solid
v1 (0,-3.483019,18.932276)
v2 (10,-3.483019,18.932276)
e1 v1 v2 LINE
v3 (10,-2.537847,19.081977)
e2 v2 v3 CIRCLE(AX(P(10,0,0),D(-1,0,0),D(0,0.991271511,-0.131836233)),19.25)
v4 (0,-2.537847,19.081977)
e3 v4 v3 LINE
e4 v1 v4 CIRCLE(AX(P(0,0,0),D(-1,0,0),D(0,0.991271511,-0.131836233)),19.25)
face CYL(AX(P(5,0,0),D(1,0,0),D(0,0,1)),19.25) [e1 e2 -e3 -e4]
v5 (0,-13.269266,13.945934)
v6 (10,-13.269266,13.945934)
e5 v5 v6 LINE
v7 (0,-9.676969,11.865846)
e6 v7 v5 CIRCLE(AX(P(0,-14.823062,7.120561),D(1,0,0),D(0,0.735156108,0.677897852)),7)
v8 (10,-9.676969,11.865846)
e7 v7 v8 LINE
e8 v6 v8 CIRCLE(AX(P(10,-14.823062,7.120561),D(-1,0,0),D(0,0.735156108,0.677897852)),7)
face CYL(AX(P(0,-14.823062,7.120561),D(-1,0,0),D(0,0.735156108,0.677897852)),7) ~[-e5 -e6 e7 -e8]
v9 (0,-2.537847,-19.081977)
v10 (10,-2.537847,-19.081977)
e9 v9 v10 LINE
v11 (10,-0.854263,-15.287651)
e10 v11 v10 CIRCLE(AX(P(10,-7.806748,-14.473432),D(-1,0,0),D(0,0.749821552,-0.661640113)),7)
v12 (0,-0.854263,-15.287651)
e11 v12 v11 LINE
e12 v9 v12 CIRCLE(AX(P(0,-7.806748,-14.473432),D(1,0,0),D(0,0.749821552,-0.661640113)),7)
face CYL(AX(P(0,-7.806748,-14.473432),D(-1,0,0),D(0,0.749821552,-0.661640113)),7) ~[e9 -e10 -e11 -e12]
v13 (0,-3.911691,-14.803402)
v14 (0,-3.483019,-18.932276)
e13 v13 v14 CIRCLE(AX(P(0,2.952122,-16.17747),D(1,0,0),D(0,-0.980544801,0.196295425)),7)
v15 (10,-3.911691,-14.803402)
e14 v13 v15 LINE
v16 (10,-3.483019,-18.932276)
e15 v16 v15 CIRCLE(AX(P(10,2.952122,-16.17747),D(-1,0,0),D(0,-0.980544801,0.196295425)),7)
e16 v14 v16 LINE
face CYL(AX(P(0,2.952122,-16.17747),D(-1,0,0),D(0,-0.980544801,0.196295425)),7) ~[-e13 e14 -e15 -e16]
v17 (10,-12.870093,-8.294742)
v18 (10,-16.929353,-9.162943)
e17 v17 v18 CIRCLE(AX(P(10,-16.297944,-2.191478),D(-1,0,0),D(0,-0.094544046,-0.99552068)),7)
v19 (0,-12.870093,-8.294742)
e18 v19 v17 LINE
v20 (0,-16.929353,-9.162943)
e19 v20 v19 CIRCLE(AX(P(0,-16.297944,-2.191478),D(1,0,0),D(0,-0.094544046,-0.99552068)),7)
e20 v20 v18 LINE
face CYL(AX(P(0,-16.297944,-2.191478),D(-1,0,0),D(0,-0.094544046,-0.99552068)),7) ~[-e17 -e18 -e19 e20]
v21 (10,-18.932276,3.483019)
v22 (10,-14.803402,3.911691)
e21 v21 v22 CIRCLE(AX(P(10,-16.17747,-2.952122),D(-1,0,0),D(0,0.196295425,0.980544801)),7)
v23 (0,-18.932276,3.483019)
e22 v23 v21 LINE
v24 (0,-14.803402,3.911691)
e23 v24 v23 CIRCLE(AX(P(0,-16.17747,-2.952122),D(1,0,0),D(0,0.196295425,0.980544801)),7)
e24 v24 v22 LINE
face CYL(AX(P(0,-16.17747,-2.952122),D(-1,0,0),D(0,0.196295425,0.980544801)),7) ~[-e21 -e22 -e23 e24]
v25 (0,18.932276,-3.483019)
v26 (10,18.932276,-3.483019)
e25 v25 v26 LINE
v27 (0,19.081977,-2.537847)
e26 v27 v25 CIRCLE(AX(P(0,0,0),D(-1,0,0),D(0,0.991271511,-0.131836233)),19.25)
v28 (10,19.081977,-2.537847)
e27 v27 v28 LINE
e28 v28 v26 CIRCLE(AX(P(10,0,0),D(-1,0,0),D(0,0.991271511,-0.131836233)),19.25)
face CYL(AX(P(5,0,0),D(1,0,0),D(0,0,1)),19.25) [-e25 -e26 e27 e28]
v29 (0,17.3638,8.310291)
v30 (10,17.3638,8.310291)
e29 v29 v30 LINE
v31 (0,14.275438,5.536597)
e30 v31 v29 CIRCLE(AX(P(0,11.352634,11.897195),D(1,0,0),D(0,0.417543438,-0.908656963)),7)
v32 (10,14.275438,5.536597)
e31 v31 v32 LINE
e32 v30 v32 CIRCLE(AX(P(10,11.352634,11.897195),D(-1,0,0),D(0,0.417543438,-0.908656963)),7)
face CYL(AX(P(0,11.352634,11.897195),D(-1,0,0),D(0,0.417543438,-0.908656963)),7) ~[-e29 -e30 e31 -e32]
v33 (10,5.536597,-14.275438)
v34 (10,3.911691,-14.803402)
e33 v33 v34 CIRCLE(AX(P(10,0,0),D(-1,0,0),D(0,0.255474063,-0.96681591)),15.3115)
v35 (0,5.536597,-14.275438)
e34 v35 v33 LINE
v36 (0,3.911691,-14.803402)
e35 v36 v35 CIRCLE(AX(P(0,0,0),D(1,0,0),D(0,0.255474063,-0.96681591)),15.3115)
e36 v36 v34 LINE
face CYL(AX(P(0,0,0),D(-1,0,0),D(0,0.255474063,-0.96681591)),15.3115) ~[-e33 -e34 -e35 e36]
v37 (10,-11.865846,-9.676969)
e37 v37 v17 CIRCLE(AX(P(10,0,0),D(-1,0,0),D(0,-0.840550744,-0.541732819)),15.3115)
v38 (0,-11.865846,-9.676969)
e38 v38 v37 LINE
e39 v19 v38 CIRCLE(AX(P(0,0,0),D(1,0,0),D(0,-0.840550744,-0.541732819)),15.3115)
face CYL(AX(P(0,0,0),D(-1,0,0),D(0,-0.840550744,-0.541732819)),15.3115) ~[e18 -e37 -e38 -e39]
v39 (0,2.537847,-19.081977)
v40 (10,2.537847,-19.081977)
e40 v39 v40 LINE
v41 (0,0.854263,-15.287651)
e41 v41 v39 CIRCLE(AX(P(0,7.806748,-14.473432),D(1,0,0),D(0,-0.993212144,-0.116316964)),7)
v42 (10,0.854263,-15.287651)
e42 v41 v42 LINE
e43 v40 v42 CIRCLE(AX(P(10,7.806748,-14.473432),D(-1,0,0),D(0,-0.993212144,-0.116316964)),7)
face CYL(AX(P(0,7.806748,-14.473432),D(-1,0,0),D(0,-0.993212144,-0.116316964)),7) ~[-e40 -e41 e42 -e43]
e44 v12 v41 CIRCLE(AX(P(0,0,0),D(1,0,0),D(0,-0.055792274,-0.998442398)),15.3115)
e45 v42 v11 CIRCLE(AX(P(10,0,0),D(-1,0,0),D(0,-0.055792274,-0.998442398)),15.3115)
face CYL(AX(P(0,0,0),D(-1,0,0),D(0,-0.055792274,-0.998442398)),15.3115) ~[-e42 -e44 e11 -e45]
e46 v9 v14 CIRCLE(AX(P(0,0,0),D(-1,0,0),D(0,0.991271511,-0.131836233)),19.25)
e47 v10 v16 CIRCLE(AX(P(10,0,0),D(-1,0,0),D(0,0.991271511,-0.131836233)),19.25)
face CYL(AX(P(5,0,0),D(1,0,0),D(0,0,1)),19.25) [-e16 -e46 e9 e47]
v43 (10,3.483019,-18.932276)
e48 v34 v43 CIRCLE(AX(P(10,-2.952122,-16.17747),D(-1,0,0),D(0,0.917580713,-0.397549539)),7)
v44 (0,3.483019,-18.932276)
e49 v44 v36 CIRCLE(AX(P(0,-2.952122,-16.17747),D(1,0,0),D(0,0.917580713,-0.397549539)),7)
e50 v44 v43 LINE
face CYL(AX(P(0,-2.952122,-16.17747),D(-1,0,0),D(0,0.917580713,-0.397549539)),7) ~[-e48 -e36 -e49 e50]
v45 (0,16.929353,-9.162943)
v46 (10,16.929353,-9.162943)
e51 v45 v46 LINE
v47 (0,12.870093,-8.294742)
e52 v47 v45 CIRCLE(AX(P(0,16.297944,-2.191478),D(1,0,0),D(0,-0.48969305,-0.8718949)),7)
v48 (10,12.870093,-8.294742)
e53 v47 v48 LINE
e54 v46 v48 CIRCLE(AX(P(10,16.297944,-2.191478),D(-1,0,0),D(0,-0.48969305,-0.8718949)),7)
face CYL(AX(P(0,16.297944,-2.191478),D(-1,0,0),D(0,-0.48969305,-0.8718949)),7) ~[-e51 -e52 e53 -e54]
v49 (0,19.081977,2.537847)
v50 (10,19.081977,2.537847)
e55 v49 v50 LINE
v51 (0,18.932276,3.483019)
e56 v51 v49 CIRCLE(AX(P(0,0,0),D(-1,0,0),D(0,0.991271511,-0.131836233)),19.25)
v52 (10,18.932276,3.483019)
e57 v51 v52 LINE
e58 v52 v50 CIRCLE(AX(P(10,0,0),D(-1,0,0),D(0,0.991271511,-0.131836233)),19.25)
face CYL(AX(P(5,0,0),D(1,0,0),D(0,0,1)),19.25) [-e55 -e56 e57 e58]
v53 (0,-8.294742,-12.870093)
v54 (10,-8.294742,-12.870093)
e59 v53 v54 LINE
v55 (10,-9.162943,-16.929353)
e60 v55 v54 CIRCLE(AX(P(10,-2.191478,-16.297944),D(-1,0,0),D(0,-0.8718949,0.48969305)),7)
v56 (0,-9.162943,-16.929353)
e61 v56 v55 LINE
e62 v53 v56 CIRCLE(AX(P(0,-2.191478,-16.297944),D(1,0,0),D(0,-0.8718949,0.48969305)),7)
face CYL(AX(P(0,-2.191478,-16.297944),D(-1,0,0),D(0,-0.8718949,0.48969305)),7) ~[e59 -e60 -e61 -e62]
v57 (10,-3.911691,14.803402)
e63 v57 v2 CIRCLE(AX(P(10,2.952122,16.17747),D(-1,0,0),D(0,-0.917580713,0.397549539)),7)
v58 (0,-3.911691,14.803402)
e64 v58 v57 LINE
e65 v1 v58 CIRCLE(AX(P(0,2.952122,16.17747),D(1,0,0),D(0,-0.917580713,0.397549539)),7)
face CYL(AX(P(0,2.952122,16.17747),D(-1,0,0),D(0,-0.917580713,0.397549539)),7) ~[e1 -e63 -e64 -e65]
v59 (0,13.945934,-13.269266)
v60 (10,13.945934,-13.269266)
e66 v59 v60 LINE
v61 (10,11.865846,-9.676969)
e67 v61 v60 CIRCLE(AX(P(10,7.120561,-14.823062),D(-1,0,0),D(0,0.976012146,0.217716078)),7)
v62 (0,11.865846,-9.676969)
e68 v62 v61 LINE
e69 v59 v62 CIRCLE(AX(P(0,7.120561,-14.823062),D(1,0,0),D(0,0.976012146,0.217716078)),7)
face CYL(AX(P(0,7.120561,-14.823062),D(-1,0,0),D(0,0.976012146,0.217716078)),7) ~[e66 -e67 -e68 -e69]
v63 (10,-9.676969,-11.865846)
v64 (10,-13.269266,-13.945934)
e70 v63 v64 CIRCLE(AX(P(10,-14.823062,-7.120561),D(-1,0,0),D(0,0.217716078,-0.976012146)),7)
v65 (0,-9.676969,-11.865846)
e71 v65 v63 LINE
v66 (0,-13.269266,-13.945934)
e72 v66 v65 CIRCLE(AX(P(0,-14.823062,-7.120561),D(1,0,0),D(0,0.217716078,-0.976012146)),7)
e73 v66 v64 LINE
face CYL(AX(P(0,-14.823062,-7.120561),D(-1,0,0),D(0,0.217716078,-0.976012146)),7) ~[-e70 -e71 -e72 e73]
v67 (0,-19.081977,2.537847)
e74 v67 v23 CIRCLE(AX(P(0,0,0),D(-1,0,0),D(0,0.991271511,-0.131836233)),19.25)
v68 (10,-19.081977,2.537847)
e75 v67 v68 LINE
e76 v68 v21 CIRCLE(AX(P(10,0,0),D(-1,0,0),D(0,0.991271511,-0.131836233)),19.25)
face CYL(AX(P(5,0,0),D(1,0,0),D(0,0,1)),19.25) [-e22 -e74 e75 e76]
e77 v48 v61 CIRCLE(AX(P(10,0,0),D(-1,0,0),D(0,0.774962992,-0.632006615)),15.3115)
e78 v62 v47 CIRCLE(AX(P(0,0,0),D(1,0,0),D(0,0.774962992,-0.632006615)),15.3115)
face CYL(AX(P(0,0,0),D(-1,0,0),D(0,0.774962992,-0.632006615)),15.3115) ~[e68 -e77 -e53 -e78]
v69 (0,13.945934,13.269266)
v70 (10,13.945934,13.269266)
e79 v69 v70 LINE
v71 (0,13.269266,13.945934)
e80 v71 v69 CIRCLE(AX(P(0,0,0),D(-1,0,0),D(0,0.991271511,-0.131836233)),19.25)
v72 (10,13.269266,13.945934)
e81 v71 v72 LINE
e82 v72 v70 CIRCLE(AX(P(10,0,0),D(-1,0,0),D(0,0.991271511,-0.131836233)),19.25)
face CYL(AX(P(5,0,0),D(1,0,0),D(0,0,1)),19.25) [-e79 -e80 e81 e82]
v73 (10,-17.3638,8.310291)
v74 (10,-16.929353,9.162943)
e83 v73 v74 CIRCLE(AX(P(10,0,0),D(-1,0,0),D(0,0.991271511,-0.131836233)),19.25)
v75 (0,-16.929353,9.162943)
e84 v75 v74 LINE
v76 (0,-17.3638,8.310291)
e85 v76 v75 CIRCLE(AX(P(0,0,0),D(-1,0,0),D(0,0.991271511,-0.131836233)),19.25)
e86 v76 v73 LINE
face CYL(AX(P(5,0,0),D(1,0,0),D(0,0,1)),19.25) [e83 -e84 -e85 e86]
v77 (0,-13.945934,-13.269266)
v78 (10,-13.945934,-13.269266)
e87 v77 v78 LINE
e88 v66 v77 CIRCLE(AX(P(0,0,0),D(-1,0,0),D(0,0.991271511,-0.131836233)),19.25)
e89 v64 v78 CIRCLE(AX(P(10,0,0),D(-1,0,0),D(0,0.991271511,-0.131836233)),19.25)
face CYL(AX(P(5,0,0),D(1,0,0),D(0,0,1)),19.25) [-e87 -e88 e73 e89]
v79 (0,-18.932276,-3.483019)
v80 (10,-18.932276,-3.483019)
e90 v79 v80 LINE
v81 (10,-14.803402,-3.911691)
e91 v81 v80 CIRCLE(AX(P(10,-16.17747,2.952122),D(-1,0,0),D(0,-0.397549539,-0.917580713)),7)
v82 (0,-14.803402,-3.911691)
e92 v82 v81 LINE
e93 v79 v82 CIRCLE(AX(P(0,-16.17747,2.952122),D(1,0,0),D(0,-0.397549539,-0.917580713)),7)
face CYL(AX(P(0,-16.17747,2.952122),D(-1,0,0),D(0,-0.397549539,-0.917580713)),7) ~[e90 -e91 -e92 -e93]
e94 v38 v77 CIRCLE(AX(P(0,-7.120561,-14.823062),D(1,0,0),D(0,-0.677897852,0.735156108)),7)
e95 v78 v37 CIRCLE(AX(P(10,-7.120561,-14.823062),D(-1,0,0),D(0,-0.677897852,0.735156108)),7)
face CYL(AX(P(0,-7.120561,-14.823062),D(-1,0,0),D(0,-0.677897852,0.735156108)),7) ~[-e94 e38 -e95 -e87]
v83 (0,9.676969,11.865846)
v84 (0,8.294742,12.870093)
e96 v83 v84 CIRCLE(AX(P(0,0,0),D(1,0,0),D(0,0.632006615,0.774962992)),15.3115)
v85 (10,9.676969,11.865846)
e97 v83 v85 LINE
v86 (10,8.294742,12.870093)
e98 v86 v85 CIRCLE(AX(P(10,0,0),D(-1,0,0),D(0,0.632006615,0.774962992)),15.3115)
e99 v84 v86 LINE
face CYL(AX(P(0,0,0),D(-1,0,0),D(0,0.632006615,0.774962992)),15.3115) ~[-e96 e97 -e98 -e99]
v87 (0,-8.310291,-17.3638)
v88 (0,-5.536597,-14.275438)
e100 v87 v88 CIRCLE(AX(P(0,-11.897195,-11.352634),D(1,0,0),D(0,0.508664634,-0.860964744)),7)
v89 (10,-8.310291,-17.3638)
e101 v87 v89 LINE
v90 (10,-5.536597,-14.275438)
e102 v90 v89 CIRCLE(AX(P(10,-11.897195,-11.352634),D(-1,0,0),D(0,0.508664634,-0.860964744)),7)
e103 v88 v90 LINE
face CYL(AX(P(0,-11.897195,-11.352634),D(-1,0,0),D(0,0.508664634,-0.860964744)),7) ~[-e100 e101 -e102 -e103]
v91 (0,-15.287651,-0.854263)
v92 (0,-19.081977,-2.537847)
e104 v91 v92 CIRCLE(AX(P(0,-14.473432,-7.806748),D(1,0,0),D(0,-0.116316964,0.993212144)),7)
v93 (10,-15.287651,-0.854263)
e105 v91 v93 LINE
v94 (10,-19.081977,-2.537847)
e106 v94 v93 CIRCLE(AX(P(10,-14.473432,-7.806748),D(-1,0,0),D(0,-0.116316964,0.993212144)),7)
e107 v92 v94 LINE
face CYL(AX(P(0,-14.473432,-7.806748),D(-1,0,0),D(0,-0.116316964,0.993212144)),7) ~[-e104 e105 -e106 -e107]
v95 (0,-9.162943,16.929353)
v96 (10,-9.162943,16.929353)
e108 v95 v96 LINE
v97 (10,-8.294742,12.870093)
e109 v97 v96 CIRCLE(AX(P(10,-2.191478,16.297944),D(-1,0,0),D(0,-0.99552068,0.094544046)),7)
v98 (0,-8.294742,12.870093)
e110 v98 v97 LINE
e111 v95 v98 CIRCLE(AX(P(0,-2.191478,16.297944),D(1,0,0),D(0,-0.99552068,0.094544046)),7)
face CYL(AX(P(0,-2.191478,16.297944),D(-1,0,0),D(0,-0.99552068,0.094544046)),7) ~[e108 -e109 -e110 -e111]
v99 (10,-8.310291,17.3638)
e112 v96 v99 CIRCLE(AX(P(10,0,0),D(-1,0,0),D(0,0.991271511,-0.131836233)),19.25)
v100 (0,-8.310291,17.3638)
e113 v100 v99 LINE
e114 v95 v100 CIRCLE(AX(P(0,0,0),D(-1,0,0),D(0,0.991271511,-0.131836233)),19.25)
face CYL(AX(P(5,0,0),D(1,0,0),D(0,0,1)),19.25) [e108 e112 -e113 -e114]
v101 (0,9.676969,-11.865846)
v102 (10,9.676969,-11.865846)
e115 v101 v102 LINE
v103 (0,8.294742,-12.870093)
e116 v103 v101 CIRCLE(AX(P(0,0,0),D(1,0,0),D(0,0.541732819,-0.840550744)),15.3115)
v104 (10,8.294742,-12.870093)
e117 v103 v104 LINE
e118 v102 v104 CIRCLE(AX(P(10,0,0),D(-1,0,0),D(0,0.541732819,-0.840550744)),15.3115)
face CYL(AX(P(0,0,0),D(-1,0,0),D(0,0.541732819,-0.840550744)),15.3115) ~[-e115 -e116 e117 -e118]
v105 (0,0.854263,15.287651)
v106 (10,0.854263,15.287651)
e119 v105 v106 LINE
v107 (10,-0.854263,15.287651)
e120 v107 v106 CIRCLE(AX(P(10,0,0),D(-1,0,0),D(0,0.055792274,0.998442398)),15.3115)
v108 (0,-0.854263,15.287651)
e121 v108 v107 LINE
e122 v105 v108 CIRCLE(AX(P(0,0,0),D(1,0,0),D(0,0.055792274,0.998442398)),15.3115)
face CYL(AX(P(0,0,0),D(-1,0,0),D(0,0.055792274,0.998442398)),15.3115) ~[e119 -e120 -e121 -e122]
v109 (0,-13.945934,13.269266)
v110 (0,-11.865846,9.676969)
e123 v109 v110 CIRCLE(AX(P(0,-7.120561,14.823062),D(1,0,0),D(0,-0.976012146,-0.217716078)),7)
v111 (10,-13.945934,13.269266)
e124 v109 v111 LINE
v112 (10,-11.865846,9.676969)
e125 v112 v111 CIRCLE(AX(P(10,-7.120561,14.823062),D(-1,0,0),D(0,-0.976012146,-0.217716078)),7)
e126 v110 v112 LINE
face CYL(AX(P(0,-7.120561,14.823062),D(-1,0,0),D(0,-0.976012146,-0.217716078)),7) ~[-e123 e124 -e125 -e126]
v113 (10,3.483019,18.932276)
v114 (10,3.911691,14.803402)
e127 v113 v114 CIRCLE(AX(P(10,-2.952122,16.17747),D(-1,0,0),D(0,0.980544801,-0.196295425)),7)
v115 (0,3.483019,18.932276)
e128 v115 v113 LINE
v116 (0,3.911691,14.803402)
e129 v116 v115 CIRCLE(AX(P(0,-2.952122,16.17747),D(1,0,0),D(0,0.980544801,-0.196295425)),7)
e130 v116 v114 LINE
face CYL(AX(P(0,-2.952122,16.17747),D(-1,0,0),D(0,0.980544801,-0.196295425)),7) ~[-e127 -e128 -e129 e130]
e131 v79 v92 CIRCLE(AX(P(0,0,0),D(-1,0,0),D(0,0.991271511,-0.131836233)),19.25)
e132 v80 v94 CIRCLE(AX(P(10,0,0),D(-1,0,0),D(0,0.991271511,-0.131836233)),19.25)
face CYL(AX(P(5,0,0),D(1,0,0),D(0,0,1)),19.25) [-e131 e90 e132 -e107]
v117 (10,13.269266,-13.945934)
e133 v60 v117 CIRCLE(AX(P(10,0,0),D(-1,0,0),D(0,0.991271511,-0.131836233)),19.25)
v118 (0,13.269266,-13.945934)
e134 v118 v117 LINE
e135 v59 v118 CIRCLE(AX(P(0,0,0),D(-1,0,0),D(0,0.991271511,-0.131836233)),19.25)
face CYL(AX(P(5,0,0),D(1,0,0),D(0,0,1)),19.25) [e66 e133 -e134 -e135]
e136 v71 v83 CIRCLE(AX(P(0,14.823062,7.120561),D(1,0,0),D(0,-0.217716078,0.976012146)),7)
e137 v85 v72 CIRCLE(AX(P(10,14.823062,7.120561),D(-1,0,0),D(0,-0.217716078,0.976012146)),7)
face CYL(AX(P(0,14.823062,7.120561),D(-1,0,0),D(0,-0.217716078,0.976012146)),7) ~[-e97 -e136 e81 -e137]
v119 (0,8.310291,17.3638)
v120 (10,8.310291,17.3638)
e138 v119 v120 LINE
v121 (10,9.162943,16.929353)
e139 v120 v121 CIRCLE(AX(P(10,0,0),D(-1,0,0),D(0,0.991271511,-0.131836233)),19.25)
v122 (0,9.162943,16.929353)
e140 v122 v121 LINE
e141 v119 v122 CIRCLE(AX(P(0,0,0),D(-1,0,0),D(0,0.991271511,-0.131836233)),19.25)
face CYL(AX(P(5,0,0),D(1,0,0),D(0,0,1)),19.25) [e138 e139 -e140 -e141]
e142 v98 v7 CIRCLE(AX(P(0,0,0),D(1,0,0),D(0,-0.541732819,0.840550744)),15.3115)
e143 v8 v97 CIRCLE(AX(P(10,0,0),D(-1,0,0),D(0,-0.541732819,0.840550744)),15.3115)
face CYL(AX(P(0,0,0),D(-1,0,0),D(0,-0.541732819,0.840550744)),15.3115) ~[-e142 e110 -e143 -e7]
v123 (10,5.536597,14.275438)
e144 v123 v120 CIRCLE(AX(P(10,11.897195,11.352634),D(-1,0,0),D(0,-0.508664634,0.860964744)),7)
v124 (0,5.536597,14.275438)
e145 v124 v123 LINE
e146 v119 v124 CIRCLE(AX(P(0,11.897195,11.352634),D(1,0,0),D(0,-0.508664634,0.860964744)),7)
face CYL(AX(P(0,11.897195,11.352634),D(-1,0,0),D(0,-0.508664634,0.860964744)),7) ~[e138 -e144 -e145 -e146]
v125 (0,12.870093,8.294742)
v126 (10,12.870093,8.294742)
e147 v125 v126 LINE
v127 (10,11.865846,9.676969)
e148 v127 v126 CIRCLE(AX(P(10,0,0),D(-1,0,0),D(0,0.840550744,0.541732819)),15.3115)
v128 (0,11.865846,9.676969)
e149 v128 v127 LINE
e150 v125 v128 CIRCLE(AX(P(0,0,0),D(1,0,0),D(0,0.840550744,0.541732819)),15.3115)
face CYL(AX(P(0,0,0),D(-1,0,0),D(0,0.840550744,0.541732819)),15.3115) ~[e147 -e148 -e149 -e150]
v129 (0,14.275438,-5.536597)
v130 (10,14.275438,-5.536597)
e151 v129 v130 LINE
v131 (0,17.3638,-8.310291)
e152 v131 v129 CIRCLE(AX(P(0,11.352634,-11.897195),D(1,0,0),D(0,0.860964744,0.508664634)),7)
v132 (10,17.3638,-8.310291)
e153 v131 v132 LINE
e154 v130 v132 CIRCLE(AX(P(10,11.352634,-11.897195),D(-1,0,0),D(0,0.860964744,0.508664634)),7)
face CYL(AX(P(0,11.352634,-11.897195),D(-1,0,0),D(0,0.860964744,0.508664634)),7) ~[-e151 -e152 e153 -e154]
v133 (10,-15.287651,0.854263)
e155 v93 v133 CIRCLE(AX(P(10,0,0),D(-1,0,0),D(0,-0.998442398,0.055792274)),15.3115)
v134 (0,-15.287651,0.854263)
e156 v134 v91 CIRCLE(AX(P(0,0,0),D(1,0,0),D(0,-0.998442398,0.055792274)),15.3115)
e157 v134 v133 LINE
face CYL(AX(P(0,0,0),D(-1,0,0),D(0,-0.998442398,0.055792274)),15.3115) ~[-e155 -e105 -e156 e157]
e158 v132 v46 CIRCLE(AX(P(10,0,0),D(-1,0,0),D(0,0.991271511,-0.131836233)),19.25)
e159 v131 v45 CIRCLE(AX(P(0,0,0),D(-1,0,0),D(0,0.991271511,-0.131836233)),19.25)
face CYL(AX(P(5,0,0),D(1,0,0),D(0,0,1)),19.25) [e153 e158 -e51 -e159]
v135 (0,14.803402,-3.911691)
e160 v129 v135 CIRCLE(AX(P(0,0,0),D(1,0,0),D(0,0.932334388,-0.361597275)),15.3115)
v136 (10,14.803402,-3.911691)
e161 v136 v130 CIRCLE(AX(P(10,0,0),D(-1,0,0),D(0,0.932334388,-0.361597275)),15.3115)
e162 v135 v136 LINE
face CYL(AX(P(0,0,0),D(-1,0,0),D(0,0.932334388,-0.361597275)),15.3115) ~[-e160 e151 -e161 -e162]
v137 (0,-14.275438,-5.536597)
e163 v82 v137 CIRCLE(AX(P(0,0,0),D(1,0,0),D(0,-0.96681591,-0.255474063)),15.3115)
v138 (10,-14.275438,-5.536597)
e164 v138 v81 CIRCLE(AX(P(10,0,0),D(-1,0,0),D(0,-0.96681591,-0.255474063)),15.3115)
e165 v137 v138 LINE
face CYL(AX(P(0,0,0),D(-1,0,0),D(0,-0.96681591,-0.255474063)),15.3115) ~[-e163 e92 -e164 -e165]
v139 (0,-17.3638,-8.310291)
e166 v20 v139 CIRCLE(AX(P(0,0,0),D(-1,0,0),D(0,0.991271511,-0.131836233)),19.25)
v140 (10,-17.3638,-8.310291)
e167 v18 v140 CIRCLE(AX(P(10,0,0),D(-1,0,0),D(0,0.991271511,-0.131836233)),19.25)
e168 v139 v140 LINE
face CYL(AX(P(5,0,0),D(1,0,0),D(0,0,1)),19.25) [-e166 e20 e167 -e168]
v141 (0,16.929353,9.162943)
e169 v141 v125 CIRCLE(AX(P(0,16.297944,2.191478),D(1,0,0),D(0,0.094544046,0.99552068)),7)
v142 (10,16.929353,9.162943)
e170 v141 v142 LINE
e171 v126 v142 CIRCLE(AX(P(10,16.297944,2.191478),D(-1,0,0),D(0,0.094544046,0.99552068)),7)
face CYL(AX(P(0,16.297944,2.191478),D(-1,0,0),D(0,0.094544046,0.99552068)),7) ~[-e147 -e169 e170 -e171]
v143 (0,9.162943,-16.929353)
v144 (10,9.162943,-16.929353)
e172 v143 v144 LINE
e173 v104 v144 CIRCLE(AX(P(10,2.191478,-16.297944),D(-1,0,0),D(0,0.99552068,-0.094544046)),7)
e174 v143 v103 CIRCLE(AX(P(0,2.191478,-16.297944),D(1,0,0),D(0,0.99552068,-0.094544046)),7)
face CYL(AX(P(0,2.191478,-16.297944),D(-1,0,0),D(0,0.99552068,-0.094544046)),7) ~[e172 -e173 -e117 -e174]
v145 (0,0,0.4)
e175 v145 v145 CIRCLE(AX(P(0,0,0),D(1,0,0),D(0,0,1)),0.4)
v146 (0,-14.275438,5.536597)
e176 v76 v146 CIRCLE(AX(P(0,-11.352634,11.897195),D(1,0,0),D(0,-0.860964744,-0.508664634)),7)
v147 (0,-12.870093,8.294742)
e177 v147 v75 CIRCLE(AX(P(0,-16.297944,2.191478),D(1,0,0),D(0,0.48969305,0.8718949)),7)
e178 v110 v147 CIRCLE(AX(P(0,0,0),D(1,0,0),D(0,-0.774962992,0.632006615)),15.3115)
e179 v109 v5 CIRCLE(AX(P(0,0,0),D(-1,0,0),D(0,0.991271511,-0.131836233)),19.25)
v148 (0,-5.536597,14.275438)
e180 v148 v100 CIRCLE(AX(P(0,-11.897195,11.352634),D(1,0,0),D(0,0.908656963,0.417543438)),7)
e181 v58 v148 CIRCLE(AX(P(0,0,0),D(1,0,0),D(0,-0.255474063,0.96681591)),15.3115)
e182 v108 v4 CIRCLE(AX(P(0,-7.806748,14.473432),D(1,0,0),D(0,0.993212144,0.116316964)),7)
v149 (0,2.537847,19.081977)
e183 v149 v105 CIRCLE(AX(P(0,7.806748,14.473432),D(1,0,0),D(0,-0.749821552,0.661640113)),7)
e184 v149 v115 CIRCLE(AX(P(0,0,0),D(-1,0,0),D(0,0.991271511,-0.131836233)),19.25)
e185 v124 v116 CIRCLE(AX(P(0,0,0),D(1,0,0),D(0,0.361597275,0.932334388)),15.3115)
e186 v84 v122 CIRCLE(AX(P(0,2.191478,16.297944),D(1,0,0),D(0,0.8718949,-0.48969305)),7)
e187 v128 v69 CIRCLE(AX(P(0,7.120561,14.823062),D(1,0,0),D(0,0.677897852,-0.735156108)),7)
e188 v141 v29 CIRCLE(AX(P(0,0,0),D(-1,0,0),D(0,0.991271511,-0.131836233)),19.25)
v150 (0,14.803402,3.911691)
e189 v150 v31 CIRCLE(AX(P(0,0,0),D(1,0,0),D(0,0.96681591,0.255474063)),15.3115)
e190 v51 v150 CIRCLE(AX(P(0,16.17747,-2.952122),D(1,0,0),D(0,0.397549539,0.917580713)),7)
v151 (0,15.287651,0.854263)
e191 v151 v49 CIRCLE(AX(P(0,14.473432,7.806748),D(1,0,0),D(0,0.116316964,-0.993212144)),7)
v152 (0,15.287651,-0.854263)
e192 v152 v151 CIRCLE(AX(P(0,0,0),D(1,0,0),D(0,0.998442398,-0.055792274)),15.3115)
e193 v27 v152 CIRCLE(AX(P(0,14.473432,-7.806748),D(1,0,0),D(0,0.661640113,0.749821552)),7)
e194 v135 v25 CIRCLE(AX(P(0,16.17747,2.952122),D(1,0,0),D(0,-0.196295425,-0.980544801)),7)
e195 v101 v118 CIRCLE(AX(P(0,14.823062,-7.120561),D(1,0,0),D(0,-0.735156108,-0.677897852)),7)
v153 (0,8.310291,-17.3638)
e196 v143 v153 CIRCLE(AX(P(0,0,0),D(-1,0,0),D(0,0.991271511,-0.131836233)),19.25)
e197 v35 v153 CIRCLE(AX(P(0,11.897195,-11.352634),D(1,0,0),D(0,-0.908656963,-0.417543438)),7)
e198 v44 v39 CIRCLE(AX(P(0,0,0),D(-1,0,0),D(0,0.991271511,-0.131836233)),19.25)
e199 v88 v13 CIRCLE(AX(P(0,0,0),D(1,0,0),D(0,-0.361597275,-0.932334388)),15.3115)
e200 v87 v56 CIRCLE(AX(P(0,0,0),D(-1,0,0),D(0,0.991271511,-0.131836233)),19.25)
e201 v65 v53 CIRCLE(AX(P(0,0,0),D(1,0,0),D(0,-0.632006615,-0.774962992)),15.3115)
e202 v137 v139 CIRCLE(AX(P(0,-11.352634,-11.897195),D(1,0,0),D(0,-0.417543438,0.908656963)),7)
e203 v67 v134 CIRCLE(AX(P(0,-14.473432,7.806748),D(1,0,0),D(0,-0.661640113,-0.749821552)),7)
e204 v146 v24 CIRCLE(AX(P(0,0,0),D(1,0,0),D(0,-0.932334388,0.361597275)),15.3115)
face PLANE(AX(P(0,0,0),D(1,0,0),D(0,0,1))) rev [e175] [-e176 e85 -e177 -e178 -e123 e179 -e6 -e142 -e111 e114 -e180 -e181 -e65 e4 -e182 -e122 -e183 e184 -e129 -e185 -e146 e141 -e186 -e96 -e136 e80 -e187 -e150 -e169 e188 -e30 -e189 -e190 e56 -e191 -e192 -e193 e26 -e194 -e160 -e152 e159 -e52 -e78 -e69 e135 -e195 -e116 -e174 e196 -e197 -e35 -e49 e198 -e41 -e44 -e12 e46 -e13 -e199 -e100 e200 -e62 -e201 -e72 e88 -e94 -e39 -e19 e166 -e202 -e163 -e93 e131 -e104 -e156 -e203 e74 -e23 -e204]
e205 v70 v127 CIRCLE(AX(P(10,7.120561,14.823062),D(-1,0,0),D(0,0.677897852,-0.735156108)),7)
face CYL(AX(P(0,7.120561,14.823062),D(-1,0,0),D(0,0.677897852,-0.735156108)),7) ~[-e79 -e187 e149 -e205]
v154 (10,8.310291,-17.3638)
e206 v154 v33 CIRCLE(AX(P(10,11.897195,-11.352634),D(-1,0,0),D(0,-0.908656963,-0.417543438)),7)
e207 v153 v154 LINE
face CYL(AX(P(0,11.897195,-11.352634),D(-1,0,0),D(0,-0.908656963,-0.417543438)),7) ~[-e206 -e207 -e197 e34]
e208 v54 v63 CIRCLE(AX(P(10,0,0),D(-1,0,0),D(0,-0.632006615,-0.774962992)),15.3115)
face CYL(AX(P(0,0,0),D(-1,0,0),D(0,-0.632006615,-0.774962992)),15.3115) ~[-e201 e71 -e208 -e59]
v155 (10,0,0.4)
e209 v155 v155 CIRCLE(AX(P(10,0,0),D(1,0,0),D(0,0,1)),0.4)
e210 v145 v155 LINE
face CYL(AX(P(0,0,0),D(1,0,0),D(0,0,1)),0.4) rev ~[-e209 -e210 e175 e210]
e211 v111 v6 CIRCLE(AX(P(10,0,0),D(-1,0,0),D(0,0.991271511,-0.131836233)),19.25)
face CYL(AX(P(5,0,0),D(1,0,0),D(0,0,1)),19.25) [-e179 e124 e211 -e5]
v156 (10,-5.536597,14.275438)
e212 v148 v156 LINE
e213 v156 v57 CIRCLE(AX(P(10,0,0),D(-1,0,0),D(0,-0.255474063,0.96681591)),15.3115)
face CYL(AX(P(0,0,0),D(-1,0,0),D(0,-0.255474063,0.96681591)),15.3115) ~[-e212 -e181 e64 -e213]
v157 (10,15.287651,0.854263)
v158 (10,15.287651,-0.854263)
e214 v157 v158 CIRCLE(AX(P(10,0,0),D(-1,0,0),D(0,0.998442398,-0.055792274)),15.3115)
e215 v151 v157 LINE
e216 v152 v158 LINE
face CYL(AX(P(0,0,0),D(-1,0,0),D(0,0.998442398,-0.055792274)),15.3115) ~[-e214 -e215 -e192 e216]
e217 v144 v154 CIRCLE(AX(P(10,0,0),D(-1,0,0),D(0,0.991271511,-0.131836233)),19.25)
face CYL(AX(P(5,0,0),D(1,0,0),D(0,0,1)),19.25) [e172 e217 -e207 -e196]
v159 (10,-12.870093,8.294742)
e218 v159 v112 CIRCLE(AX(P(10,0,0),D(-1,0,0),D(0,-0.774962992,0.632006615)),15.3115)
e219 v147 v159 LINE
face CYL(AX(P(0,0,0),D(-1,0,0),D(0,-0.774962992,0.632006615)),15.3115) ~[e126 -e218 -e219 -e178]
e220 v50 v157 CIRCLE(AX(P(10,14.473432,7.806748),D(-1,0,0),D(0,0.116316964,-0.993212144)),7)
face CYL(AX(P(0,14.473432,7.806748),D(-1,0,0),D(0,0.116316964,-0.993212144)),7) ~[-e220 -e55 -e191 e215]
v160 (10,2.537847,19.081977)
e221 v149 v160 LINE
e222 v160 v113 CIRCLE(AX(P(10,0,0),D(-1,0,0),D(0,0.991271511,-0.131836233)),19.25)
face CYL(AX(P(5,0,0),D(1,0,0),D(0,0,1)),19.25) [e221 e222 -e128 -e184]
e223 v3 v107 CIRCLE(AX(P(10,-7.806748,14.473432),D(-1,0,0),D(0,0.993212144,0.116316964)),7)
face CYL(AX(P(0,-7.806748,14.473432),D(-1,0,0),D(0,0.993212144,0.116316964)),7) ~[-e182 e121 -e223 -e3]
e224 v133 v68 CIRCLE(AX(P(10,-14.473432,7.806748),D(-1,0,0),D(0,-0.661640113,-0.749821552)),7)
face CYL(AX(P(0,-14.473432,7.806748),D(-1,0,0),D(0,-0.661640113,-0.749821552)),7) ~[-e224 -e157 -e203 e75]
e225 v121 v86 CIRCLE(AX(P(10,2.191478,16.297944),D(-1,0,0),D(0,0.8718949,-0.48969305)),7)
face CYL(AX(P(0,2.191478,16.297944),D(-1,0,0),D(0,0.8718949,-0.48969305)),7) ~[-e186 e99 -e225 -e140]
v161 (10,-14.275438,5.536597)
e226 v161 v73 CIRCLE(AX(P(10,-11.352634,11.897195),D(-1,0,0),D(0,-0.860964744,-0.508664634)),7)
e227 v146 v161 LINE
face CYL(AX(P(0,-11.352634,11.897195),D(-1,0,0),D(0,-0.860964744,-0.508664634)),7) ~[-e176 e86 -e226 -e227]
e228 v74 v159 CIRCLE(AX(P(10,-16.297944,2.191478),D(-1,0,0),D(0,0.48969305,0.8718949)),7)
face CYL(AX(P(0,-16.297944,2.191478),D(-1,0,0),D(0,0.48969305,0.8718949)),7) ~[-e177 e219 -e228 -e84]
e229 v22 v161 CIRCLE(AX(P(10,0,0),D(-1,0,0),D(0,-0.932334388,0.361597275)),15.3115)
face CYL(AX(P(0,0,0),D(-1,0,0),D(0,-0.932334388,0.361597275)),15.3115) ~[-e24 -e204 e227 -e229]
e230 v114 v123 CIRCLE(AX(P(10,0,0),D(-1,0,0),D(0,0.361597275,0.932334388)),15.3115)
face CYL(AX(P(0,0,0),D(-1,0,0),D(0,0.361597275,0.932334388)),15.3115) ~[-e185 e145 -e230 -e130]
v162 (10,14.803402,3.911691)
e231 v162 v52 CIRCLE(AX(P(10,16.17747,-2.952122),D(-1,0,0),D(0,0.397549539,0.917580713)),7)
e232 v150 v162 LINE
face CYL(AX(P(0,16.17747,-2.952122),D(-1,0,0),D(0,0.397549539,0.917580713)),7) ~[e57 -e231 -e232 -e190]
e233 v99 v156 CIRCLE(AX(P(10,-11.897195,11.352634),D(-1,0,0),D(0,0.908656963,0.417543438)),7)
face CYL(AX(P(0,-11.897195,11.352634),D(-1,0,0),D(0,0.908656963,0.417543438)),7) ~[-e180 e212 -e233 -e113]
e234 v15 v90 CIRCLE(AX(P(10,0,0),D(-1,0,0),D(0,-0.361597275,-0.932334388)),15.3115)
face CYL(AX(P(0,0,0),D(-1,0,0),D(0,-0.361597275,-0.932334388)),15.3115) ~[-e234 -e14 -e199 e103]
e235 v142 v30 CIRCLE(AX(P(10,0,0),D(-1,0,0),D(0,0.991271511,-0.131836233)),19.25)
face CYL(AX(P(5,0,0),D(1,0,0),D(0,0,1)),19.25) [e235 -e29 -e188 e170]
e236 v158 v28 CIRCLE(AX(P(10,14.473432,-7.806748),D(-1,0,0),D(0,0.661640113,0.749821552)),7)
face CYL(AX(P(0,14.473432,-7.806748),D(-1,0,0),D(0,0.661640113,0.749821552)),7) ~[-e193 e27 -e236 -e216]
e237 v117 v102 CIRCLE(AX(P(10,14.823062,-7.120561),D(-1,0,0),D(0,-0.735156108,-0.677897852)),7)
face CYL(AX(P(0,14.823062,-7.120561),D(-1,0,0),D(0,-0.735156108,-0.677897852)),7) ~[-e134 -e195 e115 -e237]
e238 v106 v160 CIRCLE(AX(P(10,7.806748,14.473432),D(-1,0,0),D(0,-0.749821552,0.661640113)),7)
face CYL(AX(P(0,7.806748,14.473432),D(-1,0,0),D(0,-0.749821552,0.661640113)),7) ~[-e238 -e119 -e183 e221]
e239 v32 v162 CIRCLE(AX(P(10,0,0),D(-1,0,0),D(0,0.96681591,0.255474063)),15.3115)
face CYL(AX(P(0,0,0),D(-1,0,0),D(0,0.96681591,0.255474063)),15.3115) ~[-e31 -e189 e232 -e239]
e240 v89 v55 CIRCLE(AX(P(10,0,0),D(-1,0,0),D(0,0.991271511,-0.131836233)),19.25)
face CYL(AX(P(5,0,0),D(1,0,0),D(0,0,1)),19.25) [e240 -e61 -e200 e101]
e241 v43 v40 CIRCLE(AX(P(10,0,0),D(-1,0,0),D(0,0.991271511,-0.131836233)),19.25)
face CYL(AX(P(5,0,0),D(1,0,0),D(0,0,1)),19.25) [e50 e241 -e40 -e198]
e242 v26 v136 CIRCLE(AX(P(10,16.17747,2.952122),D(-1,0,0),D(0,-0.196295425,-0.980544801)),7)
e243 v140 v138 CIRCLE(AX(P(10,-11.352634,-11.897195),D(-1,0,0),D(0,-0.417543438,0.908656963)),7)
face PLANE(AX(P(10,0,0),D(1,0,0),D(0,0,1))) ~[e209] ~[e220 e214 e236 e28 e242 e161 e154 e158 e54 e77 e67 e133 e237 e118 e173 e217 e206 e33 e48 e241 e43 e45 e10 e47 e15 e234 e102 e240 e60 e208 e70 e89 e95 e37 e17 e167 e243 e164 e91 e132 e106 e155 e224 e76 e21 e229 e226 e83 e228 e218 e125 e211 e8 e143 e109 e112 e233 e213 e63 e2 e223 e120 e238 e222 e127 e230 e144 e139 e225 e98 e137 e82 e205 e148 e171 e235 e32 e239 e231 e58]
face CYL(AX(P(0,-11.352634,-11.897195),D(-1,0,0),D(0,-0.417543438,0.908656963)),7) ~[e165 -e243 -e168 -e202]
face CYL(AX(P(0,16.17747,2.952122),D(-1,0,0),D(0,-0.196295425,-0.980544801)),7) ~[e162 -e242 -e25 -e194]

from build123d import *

# Parameters (mm, degrees)
BASPROSKE_W     = 10
BASPROSKE_H     = 19.25
TOOTHCUT_DEPTH  = 30.002155092
TEETHCUTS_COUNT = 20
TEETHCUTS_ANGLE = 342
BORSKE_R        = 0.4
BORE_DEPTH      = 50.0000508


with BuildPart() as part:
    # BasProSke → Base-Revolve (revolve)
    with BuildSketch(Plane(origin=(0, 0, 0), x_dir=(1, 0, 0), z_dir=(0, 1, 0)), mode=Mode.PRIVATE) as base_revolve_sk:
        with Locations((5, 9.625)):
            Rectangle(BASPROSKE_W, BASPROSKE_H)
    revolve(base_revolve_sk.sketch.rotate(Axis((-10, 0, 0), (1, 0, 0)), 180), axis=Axis((-10, 0, 0), (1, 0, 0)))

    # TooCutSke → ToothCut (cut, through all)
    with BuildSketch(Plane(origin=(0, 0, 0), x_dir=(0, 0, -1), z_dir=(1, 0, 0))):
        with BuildLine():
            ThreePointArc((0.85426341, 15.287650777), (0, 15.3115), (-0.85426341, 15.287650777))
            ThreePointArc((-0.85426341, 15.287650777), (-1.414533498, 17.326428412), (-2.557997552, 19.104912815))
            ThreePointArc((-2.557997552, 19.104912815), (0, 19.2754), (2.557997552, 19.104912815))
            ThreePointArc((2.557997552, 19.104912815), (1.414533498, 17.326428412), (0.85426341, 15.287650777))
        make_face()
    toothcut = extrude(amount=TOOTHCUT_DEPTH, mode=Mode.SUBTRACT)

    # TeethCuts: ToothCut ×20 about axis
    teethcuts_axis = Axis((-10, 0, 0), (1, 0, 0))
    for i in range(1, TEETHCUTS_COUNT):
        add(toothcut.rotate(teethcuts_axis, i * TEETHCUTS_ANGLE / (TEETHCUTS_COUNT - 1)), mode=Mode.SUBTRACT)

    # BorSke → Bore (cut, symmetric)
    with BuildSketch(Plane(origin=(0, 0, 0), x_dir=(0, 0, -1), z_dir=(1, 0, 0))):
        with Locations(Location((0, 0, 0), (0, 0, 180))):
            Circle(BORSKE_R)
    extrude(amount=BORE_DEPTH, both=True, mode=Mode.SUBTRACT)


solid = part.part
